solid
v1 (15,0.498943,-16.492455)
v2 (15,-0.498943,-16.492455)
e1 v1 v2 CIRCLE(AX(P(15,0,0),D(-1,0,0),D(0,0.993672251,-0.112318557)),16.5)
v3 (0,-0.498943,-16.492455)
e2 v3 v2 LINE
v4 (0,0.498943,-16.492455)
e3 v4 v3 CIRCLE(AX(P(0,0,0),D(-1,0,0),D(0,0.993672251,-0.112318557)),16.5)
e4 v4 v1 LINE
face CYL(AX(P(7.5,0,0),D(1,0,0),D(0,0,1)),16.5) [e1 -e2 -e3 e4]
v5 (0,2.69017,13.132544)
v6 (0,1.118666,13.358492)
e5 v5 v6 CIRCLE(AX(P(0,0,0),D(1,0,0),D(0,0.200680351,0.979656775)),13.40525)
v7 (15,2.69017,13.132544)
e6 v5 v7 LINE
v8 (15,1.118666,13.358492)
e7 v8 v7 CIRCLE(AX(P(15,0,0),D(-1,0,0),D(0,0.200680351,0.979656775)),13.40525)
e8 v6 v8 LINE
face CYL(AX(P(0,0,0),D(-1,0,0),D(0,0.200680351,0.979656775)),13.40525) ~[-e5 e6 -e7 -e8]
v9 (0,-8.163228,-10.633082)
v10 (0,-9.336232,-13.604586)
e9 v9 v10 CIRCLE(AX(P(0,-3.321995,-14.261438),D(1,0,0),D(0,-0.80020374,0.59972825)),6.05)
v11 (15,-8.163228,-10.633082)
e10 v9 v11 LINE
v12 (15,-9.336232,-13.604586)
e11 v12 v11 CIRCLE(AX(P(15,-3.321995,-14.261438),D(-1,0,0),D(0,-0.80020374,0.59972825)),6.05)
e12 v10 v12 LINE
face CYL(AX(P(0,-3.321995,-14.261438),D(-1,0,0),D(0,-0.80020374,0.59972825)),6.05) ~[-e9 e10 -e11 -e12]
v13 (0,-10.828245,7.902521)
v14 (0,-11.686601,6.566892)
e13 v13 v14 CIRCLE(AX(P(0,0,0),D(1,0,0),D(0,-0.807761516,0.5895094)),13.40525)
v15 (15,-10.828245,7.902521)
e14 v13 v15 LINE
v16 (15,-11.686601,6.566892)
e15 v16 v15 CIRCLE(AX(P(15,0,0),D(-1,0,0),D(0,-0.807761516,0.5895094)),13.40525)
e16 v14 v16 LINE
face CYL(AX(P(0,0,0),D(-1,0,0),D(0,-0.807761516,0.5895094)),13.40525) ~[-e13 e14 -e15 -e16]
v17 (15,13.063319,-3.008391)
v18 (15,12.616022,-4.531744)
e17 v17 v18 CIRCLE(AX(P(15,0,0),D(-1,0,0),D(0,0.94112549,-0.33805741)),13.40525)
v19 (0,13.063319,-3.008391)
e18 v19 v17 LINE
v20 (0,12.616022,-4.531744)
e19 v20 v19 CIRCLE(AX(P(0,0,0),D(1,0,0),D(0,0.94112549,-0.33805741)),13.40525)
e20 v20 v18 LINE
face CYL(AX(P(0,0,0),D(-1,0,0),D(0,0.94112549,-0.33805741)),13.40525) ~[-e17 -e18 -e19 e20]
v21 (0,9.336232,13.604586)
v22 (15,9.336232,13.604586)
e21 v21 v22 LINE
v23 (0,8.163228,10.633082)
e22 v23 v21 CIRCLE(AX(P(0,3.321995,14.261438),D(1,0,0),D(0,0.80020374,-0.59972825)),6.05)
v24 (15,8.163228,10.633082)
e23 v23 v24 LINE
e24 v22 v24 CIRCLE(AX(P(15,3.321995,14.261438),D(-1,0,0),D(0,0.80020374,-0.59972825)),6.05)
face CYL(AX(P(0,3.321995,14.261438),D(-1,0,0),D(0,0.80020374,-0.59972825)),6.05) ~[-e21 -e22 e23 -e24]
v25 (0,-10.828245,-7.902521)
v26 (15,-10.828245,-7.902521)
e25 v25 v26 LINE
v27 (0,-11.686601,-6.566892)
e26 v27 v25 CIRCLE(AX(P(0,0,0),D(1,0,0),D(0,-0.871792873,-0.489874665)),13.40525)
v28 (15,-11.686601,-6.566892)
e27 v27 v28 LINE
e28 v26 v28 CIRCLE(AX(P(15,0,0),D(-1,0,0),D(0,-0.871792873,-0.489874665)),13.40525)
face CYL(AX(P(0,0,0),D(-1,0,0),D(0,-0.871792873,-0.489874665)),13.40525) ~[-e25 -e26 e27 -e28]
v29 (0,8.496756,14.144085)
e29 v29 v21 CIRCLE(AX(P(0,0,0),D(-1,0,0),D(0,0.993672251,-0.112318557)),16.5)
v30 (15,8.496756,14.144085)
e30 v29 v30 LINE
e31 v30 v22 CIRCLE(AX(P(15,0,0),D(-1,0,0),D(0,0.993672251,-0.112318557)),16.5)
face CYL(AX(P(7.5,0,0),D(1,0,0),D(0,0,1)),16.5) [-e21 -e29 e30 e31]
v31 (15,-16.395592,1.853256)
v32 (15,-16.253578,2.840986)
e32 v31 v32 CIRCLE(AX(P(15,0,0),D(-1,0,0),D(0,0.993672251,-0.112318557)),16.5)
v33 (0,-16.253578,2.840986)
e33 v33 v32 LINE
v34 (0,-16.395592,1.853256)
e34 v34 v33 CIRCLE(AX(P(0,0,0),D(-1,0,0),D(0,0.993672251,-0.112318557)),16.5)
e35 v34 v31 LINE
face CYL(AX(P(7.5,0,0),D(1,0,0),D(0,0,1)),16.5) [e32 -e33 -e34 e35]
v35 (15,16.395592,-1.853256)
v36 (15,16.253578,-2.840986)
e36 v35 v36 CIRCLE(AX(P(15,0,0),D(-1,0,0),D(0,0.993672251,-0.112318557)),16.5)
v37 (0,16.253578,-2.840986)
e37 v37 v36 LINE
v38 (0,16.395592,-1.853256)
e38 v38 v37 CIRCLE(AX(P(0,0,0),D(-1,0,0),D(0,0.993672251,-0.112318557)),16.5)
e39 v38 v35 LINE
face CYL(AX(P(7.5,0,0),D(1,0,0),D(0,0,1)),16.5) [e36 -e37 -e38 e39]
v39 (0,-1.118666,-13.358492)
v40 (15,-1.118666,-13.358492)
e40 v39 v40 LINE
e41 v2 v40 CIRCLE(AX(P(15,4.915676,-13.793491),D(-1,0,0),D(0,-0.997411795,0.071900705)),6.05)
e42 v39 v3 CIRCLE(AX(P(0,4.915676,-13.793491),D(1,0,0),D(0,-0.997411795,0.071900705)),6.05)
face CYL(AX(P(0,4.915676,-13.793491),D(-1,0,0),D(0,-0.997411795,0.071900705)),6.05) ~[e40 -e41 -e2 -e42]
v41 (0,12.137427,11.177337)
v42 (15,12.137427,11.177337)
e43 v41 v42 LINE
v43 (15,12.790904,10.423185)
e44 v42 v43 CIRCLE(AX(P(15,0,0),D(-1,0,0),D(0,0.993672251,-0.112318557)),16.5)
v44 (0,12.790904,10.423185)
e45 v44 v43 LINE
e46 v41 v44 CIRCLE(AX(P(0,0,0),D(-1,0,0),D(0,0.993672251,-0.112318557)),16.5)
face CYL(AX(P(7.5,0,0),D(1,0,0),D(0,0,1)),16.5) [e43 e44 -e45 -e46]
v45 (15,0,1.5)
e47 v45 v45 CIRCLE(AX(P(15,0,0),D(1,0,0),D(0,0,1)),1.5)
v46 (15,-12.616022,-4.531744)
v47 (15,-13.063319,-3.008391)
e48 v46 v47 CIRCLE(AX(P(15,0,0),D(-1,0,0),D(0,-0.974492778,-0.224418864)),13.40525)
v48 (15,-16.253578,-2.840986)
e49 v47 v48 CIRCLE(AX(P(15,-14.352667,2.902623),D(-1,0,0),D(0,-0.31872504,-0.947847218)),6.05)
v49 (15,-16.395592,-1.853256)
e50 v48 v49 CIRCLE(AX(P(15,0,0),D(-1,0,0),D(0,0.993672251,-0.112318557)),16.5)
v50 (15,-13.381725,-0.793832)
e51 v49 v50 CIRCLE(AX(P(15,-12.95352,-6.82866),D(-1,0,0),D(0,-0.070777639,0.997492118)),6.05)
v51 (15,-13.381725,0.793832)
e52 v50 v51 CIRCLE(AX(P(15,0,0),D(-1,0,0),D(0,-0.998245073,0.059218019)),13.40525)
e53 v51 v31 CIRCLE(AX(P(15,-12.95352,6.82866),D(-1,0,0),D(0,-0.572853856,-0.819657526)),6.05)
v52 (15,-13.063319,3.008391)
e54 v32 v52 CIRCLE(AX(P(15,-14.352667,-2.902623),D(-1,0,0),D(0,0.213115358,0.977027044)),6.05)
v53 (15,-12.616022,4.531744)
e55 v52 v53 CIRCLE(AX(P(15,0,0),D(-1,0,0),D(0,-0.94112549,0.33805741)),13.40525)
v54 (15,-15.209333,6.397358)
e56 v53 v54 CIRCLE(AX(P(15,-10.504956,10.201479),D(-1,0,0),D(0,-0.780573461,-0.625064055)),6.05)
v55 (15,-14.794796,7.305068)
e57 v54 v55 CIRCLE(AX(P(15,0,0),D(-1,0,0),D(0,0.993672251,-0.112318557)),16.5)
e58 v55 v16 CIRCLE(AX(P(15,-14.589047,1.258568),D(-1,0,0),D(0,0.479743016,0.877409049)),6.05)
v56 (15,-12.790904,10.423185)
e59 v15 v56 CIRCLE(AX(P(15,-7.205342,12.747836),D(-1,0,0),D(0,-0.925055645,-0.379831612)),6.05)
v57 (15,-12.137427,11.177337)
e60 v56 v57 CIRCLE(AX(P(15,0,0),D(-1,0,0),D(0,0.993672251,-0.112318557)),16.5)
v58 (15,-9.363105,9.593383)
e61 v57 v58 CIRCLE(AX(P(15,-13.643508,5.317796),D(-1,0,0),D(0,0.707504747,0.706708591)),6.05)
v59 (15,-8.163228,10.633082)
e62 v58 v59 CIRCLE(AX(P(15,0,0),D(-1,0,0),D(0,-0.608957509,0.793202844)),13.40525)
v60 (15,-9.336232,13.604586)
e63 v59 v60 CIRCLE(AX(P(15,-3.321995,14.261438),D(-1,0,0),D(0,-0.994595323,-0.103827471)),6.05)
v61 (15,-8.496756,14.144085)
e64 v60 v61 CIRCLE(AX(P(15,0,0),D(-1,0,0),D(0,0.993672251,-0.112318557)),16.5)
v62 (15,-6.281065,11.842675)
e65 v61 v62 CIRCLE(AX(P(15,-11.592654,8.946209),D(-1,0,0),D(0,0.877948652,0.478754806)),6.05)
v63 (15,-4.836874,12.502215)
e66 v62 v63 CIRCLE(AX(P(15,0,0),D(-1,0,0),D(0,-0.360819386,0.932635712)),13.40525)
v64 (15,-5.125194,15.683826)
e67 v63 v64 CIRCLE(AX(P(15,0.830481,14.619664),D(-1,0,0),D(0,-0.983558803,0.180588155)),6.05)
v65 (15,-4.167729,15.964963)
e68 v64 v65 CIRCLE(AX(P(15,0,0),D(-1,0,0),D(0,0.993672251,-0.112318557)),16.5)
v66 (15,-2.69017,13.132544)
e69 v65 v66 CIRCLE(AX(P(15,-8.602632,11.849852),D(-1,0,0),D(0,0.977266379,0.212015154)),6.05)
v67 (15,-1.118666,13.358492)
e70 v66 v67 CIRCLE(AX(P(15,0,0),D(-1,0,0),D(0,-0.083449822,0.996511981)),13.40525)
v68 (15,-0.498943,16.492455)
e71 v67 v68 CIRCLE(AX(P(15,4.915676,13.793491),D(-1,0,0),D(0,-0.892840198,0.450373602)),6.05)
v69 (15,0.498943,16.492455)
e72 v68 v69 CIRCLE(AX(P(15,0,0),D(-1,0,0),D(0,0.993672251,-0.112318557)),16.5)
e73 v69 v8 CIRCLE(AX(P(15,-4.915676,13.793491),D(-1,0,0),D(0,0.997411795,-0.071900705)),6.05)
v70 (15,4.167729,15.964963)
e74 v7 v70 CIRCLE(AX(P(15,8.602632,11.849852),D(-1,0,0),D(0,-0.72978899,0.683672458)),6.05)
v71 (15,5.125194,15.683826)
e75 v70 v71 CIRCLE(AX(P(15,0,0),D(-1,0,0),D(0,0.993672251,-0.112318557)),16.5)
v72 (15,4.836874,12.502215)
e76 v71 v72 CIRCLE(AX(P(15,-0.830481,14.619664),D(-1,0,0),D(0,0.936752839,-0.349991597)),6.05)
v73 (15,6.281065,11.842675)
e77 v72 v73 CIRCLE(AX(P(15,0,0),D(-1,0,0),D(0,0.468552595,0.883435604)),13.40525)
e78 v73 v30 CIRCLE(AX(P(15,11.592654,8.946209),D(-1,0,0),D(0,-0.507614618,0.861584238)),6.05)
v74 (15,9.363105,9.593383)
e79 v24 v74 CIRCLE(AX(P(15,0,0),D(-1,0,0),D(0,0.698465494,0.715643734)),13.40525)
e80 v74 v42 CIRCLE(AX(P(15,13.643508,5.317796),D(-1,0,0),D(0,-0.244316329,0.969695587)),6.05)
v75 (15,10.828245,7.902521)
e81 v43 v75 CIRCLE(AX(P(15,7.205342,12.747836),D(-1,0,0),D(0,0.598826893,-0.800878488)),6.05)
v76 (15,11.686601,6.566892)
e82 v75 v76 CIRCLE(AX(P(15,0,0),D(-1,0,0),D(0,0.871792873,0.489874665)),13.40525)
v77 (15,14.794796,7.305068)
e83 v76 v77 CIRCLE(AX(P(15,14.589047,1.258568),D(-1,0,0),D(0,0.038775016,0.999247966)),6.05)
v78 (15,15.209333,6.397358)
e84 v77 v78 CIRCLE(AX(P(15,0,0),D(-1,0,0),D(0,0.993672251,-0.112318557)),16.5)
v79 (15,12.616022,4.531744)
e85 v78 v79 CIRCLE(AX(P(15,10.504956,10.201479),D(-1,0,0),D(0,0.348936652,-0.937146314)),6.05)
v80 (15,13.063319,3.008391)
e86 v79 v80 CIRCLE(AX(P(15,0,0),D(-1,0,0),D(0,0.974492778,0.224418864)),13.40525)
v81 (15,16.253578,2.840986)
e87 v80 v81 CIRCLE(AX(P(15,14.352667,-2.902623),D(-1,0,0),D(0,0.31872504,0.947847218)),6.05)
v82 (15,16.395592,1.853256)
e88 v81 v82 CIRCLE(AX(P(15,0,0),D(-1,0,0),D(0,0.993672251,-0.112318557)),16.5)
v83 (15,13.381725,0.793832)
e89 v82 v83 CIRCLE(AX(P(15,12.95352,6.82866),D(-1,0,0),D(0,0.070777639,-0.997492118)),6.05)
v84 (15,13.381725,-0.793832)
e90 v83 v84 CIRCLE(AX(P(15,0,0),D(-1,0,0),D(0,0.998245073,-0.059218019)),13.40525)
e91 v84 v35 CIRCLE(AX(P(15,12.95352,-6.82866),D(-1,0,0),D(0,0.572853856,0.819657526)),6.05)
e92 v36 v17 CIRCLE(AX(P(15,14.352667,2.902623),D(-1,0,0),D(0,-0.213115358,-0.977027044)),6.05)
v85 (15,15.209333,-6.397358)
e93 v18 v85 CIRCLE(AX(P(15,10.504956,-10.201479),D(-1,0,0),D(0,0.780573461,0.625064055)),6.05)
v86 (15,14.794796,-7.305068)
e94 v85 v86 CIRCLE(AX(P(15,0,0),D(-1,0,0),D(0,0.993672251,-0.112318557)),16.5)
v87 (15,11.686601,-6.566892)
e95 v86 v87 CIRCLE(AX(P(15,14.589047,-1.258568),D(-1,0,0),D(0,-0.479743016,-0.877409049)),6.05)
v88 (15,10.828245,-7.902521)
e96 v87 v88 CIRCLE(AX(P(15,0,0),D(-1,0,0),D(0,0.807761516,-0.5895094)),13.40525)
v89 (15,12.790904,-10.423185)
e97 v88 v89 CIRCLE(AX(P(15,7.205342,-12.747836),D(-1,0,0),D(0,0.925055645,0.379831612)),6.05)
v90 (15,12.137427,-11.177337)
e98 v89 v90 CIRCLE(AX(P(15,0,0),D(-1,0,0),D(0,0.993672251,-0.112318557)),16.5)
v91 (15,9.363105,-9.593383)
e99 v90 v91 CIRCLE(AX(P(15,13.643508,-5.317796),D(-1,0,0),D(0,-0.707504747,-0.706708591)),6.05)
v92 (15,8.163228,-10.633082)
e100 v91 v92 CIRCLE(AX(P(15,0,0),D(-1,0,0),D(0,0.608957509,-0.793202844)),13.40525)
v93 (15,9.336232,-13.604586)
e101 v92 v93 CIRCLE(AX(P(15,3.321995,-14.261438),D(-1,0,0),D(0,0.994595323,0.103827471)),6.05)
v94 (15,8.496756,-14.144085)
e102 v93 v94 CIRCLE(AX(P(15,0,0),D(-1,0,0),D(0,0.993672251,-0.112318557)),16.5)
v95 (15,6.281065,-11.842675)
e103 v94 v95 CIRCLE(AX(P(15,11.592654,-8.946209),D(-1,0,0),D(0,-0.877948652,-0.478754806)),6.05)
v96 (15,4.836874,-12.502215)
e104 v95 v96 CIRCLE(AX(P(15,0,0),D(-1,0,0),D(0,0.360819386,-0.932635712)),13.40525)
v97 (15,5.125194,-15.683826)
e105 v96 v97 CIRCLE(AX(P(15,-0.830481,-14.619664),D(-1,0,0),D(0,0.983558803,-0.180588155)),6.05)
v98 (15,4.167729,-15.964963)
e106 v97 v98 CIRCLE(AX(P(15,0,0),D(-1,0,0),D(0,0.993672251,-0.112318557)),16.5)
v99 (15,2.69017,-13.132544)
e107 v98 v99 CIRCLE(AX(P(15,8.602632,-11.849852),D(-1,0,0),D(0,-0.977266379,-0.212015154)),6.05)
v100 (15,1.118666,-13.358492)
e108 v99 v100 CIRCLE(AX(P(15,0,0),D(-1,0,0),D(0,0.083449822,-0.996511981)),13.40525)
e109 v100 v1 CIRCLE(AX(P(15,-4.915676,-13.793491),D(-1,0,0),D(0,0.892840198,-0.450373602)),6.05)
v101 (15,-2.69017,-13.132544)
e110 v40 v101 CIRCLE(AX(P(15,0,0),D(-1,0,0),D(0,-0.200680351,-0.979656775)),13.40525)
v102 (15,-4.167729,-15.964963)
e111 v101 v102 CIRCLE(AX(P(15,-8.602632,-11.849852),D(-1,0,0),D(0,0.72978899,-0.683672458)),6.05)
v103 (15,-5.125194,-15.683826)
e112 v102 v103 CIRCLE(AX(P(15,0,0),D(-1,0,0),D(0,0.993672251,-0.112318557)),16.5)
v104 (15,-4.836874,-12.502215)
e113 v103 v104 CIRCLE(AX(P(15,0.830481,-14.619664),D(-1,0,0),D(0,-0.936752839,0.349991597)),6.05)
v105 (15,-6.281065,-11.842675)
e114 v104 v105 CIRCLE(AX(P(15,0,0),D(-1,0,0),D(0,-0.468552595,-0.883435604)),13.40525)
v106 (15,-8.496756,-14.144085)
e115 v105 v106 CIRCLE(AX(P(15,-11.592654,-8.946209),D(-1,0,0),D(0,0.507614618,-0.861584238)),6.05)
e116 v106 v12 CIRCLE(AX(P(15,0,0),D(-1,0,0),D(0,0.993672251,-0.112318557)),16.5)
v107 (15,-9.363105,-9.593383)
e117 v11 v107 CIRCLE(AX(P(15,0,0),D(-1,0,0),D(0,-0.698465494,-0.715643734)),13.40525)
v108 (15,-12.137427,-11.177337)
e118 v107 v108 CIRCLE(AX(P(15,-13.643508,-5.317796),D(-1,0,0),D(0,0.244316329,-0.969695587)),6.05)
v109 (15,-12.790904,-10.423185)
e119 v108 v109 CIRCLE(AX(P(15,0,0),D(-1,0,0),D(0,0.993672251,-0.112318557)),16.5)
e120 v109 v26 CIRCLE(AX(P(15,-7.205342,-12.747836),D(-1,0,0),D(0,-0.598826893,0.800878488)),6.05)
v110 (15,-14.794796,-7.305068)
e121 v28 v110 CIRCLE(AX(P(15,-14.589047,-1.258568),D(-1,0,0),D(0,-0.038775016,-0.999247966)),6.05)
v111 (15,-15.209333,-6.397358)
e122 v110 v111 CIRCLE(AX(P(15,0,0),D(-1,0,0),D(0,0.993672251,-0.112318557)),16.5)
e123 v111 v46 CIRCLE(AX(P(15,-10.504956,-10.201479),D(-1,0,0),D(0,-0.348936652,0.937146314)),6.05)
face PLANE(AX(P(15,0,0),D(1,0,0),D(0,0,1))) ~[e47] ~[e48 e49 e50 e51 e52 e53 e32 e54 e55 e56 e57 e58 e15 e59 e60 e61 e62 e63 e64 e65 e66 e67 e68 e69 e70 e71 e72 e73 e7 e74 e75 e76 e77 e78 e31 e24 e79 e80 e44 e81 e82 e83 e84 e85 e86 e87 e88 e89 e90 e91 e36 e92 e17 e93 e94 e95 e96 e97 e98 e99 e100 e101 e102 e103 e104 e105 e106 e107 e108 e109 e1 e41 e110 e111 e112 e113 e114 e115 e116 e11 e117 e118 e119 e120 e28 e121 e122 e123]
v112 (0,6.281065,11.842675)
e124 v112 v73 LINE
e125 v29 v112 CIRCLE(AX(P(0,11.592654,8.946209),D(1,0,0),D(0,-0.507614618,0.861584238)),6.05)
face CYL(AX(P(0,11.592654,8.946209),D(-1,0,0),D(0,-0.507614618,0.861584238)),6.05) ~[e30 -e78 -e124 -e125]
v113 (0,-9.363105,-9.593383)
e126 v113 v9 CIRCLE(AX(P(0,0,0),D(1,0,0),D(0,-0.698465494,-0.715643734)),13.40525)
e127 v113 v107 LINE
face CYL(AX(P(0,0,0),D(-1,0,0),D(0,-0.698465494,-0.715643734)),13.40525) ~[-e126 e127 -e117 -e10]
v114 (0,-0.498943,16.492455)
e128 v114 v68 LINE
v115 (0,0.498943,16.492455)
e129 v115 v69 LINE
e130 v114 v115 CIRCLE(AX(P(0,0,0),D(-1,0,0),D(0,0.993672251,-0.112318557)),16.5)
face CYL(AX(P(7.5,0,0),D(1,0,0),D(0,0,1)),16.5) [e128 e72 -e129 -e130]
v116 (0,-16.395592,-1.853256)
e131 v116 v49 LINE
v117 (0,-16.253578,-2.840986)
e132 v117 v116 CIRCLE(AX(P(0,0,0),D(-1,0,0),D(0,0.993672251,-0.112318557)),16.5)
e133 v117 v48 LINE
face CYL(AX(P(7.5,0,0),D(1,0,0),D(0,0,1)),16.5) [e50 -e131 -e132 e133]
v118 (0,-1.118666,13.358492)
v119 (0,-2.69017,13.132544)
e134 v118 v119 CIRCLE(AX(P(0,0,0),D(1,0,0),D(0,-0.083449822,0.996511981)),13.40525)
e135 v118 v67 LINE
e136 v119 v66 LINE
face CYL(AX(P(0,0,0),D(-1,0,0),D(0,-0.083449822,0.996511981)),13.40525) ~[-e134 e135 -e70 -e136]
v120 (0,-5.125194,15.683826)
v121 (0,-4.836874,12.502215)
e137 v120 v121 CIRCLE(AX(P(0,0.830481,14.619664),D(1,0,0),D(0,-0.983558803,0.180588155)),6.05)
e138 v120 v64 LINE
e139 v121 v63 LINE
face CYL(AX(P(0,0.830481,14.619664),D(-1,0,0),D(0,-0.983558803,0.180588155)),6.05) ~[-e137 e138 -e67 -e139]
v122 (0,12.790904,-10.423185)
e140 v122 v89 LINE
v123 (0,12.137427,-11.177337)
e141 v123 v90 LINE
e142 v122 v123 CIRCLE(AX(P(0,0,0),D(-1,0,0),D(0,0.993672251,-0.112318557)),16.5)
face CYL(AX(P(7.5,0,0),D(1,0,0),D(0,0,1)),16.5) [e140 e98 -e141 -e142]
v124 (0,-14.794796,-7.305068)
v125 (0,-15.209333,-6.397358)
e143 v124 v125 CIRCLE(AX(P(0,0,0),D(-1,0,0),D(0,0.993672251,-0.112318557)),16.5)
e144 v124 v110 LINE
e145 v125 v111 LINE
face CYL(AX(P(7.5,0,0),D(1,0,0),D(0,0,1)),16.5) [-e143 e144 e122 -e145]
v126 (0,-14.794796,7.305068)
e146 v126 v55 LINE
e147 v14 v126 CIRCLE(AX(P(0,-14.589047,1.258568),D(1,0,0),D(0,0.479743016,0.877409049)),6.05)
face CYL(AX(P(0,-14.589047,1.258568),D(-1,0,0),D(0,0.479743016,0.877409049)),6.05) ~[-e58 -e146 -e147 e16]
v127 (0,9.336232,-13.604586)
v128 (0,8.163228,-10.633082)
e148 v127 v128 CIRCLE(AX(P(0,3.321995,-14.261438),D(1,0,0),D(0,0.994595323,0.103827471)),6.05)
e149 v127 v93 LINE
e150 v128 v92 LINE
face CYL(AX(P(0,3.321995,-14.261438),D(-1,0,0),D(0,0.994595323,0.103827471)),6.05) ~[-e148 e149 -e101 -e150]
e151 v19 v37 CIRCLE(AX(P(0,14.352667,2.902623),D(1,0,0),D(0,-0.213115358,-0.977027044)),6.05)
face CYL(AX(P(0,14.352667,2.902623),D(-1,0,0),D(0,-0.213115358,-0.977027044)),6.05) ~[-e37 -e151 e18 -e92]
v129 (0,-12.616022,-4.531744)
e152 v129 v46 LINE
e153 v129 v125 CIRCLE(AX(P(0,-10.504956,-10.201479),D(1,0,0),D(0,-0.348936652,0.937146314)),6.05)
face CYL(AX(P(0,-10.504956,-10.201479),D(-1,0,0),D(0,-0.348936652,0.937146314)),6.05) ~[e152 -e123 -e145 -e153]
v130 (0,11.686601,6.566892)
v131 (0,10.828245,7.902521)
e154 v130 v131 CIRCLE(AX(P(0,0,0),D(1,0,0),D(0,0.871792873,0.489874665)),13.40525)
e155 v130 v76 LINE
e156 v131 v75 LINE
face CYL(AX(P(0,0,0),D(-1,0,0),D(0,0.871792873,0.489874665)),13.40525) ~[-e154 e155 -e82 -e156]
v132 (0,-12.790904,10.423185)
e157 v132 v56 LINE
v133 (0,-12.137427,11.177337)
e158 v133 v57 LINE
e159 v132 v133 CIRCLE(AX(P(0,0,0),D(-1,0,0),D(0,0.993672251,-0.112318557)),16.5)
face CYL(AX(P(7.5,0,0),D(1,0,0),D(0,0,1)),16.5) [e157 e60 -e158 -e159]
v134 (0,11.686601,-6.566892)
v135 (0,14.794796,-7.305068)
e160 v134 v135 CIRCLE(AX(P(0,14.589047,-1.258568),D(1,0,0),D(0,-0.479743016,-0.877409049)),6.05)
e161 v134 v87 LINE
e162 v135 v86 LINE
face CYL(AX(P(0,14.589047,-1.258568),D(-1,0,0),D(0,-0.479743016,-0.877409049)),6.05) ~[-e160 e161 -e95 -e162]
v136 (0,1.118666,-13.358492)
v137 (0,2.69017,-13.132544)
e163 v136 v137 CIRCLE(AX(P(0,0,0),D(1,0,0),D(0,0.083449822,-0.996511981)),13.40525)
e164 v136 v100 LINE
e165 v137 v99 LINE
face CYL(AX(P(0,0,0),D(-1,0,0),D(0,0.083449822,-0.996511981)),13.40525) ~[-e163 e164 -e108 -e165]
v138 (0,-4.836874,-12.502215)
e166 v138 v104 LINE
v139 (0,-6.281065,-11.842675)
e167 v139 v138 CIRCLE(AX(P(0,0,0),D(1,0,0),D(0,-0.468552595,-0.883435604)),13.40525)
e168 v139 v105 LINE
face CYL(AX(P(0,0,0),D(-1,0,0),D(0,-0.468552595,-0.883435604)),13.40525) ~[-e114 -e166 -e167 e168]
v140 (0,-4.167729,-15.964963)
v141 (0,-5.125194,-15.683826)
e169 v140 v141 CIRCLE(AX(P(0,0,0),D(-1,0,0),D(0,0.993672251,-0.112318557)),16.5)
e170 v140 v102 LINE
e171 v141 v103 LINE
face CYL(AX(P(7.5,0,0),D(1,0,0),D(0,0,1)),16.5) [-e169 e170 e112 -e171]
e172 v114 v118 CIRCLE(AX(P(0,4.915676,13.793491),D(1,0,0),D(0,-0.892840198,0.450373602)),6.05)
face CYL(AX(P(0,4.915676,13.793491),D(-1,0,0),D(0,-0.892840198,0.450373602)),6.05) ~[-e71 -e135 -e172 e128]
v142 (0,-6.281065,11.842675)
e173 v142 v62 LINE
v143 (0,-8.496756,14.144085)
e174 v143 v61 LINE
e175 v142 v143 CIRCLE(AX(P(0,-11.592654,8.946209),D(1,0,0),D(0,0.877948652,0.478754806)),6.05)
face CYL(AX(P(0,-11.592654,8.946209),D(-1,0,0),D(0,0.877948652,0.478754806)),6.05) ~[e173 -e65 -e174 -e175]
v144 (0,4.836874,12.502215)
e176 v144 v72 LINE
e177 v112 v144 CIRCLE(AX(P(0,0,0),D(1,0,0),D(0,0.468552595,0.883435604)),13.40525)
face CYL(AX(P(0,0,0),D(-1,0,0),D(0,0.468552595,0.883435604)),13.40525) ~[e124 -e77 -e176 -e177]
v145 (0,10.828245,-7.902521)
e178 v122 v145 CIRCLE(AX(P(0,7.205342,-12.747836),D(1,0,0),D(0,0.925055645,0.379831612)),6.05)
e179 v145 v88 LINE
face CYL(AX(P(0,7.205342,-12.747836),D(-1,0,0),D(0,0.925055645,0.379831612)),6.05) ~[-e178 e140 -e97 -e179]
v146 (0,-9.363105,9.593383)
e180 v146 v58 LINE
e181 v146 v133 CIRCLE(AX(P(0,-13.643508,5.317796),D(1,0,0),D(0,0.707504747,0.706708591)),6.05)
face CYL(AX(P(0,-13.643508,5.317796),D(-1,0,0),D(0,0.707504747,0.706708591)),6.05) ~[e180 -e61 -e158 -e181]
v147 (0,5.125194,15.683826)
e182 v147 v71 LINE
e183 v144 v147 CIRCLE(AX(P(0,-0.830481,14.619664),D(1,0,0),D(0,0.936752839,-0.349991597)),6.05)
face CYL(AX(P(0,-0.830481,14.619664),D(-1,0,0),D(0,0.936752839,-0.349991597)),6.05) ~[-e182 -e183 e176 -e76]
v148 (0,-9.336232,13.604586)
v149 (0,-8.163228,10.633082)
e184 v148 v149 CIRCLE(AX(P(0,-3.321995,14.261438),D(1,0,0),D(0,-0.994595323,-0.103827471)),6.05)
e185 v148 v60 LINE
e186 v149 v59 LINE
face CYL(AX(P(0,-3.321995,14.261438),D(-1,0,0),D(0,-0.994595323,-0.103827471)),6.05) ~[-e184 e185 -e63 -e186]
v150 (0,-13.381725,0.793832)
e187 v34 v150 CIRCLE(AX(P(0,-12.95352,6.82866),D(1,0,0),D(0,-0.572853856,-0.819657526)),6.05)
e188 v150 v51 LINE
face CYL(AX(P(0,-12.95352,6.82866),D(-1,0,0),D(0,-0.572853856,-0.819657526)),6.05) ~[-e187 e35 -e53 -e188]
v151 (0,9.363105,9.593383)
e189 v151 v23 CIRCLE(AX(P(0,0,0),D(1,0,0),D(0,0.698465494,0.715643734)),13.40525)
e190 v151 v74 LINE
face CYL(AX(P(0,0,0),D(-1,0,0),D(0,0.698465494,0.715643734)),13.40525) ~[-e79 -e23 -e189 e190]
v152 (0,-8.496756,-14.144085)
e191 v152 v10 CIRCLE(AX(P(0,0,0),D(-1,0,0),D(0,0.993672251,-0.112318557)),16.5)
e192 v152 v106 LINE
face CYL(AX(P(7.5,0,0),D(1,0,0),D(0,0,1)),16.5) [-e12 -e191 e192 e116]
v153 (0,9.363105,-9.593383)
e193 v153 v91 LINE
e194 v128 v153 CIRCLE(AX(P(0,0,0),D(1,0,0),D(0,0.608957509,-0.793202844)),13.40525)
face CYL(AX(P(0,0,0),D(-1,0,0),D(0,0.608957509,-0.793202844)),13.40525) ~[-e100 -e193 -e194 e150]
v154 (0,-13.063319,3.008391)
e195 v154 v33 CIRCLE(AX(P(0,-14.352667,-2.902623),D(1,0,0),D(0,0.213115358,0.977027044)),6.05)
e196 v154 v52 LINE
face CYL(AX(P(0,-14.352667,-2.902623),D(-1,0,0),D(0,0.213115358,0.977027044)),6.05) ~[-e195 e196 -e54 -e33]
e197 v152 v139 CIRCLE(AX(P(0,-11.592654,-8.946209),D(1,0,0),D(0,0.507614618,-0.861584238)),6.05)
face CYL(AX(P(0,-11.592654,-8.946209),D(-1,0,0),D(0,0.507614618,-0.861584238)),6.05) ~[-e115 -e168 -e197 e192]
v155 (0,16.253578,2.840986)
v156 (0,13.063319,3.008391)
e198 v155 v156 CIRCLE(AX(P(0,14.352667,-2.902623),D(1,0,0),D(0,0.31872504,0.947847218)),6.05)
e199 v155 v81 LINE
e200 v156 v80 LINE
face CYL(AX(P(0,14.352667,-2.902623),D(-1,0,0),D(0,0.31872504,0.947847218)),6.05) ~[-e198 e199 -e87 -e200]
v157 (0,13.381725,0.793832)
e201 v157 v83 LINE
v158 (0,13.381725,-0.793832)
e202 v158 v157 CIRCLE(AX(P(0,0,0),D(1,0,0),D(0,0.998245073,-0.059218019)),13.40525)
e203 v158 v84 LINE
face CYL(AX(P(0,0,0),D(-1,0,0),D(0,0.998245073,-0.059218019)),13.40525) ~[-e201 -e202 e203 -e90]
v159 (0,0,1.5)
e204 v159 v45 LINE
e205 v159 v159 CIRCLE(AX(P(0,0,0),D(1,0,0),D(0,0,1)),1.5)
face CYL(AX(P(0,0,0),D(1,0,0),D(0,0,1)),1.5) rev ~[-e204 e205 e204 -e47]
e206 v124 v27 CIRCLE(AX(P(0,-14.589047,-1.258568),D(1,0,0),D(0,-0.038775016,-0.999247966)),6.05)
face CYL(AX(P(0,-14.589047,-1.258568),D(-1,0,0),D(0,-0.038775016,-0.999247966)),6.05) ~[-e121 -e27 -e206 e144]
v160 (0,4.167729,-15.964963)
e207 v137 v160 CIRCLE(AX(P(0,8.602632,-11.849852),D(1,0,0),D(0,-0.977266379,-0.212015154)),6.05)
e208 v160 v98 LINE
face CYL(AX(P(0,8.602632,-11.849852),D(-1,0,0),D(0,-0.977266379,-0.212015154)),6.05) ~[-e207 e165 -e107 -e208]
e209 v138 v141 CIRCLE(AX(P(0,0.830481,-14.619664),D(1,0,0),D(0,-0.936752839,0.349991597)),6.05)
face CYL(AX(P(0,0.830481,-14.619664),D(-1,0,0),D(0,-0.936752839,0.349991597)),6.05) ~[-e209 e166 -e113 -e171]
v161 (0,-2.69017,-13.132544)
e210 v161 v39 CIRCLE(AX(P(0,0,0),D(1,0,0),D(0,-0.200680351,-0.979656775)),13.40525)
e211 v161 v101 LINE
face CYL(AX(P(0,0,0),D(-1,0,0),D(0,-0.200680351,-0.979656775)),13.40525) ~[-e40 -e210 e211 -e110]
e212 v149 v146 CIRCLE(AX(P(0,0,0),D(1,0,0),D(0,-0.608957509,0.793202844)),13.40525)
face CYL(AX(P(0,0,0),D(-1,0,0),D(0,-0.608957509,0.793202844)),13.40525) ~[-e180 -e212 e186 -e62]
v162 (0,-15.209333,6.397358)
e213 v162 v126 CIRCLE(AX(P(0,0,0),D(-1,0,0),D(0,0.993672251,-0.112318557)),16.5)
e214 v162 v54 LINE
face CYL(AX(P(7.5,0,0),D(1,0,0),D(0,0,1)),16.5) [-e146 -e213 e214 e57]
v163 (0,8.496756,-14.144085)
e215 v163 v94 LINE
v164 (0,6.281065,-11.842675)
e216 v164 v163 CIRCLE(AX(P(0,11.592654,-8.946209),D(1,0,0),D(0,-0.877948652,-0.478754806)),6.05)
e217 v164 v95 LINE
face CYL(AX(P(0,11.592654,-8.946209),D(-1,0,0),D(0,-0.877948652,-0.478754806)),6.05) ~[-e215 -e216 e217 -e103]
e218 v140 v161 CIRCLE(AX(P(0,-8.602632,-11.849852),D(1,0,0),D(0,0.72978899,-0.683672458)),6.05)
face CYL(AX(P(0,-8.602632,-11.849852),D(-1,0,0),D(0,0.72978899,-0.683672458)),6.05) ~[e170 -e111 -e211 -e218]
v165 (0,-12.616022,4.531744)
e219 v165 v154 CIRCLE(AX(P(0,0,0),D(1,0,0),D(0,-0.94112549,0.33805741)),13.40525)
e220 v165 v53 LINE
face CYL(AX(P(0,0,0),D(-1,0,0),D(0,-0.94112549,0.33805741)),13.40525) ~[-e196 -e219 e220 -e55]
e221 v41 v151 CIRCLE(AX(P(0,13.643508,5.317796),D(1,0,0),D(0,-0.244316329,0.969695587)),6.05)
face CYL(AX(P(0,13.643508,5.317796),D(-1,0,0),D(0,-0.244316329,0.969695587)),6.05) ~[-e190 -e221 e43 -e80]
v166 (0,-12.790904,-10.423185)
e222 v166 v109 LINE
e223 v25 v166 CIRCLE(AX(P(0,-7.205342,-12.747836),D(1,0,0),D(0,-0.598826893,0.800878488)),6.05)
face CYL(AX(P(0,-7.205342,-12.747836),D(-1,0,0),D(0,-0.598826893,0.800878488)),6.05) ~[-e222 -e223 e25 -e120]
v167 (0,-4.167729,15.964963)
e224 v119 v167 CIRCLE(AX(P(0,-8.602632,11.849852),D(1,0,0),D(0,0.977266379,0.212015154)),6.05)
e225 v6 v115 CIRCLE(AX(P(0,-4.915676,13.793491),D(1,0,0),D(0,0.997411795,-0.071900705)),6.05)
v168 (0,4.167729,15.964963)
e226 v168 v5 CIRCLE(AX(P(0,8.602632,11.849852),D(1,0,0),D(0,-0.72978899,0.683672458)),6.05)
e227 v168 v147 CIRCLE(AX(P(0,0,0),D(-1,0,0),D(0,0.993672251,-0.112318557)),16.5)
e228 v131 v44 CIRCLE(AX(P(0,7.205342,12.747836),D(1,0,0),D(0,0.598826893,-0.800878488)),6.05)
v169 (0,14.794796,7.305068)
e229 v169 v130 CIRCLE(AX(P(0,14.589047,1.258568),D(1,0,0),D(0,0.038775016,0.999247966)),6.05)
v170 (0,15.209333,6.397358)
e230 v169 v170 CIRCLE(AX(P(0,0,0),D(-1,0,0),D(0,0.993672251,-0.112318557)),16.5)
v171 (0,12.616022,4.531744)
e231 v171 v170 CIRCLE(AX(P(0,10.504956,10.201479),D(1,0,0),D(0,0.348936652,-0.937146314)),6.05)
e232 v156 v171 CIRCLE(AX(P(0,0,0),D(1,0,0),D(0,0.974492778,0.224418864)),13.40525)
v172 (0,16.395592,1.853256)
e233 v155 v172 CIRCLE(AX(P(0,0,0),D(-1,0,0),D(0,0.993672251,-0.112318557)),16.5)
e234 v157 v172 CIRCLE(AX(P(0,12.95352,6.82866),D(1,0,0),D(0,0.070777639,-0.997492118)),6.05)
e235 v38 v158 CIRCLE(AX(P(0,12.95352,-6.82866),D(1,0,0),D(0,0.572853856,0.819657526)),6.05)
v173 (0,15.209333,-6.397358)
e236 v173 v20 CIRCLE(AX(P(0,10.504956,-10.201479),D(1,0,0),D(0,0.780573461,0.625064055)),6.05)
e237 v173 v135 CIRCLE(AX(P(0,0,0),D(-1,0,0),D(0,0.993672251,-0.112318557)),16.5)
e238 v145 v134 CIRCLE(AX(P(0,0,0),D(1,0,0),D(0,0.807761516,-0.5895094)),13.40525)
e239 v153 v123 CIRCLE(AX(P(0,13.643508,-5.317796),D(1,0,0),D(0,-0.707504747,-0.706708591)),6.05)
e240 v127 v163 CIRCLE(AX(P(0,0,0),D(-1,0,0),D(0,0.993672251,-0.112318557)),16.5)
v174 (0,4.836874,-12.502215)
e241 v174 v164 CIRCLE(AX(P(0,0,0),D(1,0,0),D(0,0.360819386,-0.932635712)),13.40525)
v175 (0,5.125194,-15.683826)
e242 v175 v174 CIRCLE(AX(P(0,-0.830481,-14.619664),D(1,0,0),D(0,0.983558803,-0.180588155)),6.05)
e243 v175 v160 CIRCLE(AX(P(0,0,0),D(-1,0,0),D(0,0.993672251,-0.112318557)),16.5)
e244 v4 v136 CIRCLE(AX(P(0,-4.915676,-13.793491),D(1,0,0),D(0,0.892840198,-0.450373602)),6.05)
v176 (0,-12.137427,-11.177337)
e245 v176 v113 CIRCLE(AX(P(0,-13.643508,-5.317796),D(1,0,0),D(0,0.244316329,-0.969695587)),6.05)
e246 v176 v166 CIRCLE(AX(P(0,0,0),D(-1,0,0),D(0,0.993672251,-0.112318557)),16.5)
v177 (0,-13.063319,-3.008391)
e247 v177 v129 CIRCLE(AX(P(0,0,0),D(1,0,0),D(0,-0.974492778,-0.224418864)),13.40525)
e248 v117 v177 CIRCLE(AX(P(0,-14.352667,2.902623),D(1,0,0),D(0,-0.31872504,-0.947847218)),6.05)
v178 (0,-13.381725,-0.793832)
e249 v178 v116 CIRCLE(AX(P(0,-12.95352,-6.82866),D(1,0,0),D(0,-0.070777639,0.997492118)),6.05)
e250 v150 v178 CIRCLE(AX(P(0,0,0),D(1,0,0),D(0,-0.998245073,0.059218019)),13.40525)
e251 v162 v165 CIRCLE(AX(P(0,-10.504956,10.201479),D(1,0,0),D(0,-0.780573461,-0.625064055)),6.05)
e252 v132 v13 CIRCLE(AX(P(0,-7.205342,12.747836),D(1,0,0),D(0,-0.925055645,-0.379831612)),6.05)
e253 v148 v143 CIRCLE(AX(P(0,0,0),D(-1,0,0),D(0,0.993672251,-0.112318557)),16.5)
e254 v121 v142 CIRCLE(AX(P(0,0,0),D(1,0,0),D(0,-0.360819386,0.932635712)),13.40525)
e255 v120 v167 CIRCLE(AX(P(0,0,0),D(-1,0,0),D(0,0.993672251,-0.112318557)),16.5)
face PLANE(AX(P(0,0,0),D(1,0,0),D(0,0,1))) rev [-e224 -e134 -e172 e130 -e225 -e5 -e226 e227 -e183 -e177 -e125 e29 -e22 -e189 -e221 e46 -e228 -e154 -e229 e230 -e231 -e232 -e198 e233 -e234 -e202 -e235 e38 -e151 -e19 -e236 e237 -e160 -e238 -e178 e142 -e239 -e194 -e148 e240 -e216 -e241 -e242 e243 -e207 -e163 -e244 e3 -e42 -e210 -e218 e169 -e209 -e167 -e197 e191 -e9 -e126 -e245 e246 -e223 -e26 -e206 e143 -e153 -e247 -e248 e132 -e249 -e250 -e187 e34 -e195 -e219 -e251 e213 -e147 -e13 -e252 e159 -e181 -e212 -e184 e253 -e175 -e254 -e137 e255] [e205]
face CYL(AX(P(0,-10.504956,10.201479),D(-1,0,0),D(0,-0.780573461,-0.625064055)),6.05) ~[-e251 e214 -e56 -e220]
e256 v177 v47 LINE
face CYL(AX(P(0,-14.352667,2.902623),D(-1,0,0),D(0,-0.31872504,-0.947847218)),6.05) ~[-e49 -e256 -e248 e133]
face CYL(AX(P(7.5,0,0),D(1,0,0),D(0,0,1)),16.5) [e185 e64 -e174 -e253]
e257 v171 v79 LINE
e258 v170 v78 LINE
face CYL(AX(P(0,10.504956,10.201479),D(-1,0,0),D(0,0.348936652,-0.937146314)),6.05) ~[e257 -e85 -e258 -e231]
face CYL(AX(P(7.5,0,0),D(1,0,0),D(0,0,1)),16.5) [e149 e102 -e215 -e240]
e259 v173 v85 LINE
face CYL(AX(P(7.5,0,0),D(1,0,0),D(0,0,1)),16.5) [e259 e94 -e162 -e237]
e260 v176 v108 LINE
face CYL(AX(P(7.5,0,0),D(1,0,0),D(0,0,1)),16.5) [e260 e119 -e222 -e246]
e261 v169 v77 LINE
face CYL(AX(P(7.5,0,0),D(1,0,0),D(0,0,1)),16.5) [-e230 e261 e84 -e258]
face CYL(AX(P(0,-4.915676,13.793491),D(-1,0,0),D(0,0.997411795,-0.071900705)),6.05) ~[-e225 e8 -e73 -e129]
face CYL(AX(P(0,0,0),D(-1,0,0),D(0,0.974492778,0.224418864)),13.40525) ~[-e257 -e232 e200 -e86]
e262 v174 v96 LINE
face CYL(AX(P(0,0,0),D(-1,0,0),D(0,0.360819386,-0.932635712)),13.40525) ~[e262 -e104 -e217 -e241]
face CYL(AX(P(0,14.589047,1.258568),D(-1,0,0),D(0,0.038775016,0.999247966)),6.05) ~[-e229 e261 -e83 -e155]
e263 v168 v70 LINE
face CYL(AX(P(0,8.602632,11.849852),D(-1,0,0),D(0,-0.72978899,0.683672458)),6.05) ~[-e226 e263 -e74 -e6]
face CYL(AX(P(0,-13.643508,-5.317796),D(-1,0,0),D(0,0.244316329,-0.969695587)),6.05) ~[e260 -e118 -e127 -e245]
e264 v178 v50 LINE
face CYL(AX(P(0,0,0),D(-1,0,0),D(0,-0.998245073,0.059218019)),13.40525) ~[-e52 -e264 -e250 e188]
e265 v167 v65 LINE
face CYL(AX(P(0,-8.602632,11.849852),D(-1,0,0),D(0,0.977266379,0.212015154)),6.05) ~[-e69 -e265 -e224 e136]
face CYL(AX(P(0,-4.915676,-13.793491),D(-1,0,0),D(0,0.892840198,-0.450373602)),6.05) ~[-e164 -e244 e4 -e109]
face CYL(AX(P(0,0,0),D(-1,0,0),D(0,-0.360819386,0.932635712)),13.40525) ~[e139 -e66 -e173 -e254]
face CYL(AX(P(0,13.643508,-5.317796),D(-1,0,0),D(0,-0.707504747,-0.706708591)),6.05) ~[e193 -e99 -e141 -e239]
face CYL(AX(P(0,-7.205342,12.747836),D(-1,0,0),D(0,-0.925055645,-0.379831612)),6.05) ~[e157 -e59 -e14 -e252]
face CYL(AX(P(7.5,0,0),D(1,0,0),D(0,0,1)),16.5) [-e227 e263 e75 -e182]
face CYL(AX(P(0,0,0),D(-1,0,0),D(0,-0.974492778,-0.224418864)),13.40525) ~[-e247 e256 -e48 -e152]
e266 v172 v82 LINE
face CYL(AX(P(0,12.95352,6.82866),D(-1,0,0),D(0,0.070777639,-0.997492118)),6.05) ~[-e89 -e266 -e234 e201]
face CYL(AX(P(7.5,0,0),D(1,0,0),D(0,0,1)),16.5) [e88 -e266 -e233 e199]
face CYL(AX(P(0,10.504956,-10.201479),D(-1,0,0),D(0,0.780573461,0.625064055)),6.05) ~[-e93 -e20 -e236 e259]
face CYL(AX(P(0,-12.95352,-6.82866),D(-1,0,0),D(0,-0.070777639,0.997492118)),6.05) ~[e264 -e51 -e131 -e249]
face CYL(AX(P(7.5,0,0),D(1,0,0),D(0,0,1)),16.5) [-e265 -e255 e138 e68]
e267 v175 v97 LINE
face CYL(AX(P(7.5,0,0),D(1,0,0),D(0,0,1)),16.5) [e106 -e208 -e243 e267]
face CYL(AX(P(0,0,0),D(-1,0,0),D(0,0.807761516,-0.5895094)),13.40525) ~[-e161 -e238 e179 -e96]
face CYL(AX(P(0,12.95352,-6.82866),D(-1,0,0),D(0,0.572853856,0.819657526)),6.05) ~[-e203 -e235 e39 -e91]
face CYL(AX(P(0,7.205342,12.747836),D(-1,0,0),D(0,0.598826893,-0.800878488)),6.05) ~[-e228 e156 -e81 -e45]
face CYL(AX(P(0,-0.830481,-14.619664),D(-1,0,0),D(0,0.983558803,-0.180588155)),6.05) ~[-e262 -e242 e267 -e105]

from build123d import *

# Parameters (mm, degrees)
BASPROSKE_W     = 15
BASPROSKE_H     = 16.5
TOOTHCUT_DEPTH  = 28.739863013
TEETHCUTS_COUNT = 22
BORSKE_R        = 1.5
BORE_DEPTH      = 50.0000508


with BuildPart() as part:
    # BasProSke → Base-Revolve (revolve)
    with BuildSketch(Plane(origin=(0, 0, 0), x_dir=(1, 0, 0), z_dir=(0, 1, 0)), mode=Mode.PRIVATE) as base_revolve_sk:
        with Locations((7.5, 8.25)):
            Rectangle(BASPROSKE_W, BASPROSKE_H)
    revolve(base_revolve_sk.sketch.rotate(Axis((-10, 0, 0), (1, 0, 0)), 180), axis=Axis((-10, 0, 0), (1, 0, 0)))

    # TooCutSke → ToothCut (cut, through all)
    with BuildSketch(Plane(origin=(0, 0, 0), x_dir=(0, 0, -1), z_dir=(1, 0, 0))):
        with BuildLine():
            ThreePointArc((0.79383235, 13.381724768), (0, 13.40525), (-0.79383235, 13.381724768))
            ThreePointArc((-0.79383235, 13.381724768), (-1.125821903, 14.973456057), (-1.869731633, 16.419285879))
            ThreePointArc((-1.869731633, 16.419285879), (0, 16.5254), (1.869731633, 16.419285879))
            ThreePointArc((1.869731633, 16.419285879), (1.125821903, 14.973456057), (0.79383235, 13.381724768))
        make_face()
    toothcut = extrude(amount=TOOTHCUT_DEPTH, mode=Mode.SUBTRACT)

    # TeethCuts: ToothCut ×22 about axis
    teethcuts_axis = Axis((0, 0, 0), (1, 0, 0))
    for i in range(1, TEETHCUTS_COUNT):
        add(toothcut.rotate(teethcuts_axis, i * 360 / TEETHCUTS_COUNT), mode=Mode.SUBTRACT)

    # BorSke → Bore (cut, symmetric)
    with BuildSketch(Plane(origin=(0, 0, 0), x_dir=(0, 0, -1), z_dir=(1, 0, 0))):
        with Locations(Location((0, 0, 0), (0, 0, 180))):
            Circle(BORSKE_R)
    extrude(amount=BORE_DEPTH, both=True, mode=Mode.SUBTRACT)


solid = part.part
